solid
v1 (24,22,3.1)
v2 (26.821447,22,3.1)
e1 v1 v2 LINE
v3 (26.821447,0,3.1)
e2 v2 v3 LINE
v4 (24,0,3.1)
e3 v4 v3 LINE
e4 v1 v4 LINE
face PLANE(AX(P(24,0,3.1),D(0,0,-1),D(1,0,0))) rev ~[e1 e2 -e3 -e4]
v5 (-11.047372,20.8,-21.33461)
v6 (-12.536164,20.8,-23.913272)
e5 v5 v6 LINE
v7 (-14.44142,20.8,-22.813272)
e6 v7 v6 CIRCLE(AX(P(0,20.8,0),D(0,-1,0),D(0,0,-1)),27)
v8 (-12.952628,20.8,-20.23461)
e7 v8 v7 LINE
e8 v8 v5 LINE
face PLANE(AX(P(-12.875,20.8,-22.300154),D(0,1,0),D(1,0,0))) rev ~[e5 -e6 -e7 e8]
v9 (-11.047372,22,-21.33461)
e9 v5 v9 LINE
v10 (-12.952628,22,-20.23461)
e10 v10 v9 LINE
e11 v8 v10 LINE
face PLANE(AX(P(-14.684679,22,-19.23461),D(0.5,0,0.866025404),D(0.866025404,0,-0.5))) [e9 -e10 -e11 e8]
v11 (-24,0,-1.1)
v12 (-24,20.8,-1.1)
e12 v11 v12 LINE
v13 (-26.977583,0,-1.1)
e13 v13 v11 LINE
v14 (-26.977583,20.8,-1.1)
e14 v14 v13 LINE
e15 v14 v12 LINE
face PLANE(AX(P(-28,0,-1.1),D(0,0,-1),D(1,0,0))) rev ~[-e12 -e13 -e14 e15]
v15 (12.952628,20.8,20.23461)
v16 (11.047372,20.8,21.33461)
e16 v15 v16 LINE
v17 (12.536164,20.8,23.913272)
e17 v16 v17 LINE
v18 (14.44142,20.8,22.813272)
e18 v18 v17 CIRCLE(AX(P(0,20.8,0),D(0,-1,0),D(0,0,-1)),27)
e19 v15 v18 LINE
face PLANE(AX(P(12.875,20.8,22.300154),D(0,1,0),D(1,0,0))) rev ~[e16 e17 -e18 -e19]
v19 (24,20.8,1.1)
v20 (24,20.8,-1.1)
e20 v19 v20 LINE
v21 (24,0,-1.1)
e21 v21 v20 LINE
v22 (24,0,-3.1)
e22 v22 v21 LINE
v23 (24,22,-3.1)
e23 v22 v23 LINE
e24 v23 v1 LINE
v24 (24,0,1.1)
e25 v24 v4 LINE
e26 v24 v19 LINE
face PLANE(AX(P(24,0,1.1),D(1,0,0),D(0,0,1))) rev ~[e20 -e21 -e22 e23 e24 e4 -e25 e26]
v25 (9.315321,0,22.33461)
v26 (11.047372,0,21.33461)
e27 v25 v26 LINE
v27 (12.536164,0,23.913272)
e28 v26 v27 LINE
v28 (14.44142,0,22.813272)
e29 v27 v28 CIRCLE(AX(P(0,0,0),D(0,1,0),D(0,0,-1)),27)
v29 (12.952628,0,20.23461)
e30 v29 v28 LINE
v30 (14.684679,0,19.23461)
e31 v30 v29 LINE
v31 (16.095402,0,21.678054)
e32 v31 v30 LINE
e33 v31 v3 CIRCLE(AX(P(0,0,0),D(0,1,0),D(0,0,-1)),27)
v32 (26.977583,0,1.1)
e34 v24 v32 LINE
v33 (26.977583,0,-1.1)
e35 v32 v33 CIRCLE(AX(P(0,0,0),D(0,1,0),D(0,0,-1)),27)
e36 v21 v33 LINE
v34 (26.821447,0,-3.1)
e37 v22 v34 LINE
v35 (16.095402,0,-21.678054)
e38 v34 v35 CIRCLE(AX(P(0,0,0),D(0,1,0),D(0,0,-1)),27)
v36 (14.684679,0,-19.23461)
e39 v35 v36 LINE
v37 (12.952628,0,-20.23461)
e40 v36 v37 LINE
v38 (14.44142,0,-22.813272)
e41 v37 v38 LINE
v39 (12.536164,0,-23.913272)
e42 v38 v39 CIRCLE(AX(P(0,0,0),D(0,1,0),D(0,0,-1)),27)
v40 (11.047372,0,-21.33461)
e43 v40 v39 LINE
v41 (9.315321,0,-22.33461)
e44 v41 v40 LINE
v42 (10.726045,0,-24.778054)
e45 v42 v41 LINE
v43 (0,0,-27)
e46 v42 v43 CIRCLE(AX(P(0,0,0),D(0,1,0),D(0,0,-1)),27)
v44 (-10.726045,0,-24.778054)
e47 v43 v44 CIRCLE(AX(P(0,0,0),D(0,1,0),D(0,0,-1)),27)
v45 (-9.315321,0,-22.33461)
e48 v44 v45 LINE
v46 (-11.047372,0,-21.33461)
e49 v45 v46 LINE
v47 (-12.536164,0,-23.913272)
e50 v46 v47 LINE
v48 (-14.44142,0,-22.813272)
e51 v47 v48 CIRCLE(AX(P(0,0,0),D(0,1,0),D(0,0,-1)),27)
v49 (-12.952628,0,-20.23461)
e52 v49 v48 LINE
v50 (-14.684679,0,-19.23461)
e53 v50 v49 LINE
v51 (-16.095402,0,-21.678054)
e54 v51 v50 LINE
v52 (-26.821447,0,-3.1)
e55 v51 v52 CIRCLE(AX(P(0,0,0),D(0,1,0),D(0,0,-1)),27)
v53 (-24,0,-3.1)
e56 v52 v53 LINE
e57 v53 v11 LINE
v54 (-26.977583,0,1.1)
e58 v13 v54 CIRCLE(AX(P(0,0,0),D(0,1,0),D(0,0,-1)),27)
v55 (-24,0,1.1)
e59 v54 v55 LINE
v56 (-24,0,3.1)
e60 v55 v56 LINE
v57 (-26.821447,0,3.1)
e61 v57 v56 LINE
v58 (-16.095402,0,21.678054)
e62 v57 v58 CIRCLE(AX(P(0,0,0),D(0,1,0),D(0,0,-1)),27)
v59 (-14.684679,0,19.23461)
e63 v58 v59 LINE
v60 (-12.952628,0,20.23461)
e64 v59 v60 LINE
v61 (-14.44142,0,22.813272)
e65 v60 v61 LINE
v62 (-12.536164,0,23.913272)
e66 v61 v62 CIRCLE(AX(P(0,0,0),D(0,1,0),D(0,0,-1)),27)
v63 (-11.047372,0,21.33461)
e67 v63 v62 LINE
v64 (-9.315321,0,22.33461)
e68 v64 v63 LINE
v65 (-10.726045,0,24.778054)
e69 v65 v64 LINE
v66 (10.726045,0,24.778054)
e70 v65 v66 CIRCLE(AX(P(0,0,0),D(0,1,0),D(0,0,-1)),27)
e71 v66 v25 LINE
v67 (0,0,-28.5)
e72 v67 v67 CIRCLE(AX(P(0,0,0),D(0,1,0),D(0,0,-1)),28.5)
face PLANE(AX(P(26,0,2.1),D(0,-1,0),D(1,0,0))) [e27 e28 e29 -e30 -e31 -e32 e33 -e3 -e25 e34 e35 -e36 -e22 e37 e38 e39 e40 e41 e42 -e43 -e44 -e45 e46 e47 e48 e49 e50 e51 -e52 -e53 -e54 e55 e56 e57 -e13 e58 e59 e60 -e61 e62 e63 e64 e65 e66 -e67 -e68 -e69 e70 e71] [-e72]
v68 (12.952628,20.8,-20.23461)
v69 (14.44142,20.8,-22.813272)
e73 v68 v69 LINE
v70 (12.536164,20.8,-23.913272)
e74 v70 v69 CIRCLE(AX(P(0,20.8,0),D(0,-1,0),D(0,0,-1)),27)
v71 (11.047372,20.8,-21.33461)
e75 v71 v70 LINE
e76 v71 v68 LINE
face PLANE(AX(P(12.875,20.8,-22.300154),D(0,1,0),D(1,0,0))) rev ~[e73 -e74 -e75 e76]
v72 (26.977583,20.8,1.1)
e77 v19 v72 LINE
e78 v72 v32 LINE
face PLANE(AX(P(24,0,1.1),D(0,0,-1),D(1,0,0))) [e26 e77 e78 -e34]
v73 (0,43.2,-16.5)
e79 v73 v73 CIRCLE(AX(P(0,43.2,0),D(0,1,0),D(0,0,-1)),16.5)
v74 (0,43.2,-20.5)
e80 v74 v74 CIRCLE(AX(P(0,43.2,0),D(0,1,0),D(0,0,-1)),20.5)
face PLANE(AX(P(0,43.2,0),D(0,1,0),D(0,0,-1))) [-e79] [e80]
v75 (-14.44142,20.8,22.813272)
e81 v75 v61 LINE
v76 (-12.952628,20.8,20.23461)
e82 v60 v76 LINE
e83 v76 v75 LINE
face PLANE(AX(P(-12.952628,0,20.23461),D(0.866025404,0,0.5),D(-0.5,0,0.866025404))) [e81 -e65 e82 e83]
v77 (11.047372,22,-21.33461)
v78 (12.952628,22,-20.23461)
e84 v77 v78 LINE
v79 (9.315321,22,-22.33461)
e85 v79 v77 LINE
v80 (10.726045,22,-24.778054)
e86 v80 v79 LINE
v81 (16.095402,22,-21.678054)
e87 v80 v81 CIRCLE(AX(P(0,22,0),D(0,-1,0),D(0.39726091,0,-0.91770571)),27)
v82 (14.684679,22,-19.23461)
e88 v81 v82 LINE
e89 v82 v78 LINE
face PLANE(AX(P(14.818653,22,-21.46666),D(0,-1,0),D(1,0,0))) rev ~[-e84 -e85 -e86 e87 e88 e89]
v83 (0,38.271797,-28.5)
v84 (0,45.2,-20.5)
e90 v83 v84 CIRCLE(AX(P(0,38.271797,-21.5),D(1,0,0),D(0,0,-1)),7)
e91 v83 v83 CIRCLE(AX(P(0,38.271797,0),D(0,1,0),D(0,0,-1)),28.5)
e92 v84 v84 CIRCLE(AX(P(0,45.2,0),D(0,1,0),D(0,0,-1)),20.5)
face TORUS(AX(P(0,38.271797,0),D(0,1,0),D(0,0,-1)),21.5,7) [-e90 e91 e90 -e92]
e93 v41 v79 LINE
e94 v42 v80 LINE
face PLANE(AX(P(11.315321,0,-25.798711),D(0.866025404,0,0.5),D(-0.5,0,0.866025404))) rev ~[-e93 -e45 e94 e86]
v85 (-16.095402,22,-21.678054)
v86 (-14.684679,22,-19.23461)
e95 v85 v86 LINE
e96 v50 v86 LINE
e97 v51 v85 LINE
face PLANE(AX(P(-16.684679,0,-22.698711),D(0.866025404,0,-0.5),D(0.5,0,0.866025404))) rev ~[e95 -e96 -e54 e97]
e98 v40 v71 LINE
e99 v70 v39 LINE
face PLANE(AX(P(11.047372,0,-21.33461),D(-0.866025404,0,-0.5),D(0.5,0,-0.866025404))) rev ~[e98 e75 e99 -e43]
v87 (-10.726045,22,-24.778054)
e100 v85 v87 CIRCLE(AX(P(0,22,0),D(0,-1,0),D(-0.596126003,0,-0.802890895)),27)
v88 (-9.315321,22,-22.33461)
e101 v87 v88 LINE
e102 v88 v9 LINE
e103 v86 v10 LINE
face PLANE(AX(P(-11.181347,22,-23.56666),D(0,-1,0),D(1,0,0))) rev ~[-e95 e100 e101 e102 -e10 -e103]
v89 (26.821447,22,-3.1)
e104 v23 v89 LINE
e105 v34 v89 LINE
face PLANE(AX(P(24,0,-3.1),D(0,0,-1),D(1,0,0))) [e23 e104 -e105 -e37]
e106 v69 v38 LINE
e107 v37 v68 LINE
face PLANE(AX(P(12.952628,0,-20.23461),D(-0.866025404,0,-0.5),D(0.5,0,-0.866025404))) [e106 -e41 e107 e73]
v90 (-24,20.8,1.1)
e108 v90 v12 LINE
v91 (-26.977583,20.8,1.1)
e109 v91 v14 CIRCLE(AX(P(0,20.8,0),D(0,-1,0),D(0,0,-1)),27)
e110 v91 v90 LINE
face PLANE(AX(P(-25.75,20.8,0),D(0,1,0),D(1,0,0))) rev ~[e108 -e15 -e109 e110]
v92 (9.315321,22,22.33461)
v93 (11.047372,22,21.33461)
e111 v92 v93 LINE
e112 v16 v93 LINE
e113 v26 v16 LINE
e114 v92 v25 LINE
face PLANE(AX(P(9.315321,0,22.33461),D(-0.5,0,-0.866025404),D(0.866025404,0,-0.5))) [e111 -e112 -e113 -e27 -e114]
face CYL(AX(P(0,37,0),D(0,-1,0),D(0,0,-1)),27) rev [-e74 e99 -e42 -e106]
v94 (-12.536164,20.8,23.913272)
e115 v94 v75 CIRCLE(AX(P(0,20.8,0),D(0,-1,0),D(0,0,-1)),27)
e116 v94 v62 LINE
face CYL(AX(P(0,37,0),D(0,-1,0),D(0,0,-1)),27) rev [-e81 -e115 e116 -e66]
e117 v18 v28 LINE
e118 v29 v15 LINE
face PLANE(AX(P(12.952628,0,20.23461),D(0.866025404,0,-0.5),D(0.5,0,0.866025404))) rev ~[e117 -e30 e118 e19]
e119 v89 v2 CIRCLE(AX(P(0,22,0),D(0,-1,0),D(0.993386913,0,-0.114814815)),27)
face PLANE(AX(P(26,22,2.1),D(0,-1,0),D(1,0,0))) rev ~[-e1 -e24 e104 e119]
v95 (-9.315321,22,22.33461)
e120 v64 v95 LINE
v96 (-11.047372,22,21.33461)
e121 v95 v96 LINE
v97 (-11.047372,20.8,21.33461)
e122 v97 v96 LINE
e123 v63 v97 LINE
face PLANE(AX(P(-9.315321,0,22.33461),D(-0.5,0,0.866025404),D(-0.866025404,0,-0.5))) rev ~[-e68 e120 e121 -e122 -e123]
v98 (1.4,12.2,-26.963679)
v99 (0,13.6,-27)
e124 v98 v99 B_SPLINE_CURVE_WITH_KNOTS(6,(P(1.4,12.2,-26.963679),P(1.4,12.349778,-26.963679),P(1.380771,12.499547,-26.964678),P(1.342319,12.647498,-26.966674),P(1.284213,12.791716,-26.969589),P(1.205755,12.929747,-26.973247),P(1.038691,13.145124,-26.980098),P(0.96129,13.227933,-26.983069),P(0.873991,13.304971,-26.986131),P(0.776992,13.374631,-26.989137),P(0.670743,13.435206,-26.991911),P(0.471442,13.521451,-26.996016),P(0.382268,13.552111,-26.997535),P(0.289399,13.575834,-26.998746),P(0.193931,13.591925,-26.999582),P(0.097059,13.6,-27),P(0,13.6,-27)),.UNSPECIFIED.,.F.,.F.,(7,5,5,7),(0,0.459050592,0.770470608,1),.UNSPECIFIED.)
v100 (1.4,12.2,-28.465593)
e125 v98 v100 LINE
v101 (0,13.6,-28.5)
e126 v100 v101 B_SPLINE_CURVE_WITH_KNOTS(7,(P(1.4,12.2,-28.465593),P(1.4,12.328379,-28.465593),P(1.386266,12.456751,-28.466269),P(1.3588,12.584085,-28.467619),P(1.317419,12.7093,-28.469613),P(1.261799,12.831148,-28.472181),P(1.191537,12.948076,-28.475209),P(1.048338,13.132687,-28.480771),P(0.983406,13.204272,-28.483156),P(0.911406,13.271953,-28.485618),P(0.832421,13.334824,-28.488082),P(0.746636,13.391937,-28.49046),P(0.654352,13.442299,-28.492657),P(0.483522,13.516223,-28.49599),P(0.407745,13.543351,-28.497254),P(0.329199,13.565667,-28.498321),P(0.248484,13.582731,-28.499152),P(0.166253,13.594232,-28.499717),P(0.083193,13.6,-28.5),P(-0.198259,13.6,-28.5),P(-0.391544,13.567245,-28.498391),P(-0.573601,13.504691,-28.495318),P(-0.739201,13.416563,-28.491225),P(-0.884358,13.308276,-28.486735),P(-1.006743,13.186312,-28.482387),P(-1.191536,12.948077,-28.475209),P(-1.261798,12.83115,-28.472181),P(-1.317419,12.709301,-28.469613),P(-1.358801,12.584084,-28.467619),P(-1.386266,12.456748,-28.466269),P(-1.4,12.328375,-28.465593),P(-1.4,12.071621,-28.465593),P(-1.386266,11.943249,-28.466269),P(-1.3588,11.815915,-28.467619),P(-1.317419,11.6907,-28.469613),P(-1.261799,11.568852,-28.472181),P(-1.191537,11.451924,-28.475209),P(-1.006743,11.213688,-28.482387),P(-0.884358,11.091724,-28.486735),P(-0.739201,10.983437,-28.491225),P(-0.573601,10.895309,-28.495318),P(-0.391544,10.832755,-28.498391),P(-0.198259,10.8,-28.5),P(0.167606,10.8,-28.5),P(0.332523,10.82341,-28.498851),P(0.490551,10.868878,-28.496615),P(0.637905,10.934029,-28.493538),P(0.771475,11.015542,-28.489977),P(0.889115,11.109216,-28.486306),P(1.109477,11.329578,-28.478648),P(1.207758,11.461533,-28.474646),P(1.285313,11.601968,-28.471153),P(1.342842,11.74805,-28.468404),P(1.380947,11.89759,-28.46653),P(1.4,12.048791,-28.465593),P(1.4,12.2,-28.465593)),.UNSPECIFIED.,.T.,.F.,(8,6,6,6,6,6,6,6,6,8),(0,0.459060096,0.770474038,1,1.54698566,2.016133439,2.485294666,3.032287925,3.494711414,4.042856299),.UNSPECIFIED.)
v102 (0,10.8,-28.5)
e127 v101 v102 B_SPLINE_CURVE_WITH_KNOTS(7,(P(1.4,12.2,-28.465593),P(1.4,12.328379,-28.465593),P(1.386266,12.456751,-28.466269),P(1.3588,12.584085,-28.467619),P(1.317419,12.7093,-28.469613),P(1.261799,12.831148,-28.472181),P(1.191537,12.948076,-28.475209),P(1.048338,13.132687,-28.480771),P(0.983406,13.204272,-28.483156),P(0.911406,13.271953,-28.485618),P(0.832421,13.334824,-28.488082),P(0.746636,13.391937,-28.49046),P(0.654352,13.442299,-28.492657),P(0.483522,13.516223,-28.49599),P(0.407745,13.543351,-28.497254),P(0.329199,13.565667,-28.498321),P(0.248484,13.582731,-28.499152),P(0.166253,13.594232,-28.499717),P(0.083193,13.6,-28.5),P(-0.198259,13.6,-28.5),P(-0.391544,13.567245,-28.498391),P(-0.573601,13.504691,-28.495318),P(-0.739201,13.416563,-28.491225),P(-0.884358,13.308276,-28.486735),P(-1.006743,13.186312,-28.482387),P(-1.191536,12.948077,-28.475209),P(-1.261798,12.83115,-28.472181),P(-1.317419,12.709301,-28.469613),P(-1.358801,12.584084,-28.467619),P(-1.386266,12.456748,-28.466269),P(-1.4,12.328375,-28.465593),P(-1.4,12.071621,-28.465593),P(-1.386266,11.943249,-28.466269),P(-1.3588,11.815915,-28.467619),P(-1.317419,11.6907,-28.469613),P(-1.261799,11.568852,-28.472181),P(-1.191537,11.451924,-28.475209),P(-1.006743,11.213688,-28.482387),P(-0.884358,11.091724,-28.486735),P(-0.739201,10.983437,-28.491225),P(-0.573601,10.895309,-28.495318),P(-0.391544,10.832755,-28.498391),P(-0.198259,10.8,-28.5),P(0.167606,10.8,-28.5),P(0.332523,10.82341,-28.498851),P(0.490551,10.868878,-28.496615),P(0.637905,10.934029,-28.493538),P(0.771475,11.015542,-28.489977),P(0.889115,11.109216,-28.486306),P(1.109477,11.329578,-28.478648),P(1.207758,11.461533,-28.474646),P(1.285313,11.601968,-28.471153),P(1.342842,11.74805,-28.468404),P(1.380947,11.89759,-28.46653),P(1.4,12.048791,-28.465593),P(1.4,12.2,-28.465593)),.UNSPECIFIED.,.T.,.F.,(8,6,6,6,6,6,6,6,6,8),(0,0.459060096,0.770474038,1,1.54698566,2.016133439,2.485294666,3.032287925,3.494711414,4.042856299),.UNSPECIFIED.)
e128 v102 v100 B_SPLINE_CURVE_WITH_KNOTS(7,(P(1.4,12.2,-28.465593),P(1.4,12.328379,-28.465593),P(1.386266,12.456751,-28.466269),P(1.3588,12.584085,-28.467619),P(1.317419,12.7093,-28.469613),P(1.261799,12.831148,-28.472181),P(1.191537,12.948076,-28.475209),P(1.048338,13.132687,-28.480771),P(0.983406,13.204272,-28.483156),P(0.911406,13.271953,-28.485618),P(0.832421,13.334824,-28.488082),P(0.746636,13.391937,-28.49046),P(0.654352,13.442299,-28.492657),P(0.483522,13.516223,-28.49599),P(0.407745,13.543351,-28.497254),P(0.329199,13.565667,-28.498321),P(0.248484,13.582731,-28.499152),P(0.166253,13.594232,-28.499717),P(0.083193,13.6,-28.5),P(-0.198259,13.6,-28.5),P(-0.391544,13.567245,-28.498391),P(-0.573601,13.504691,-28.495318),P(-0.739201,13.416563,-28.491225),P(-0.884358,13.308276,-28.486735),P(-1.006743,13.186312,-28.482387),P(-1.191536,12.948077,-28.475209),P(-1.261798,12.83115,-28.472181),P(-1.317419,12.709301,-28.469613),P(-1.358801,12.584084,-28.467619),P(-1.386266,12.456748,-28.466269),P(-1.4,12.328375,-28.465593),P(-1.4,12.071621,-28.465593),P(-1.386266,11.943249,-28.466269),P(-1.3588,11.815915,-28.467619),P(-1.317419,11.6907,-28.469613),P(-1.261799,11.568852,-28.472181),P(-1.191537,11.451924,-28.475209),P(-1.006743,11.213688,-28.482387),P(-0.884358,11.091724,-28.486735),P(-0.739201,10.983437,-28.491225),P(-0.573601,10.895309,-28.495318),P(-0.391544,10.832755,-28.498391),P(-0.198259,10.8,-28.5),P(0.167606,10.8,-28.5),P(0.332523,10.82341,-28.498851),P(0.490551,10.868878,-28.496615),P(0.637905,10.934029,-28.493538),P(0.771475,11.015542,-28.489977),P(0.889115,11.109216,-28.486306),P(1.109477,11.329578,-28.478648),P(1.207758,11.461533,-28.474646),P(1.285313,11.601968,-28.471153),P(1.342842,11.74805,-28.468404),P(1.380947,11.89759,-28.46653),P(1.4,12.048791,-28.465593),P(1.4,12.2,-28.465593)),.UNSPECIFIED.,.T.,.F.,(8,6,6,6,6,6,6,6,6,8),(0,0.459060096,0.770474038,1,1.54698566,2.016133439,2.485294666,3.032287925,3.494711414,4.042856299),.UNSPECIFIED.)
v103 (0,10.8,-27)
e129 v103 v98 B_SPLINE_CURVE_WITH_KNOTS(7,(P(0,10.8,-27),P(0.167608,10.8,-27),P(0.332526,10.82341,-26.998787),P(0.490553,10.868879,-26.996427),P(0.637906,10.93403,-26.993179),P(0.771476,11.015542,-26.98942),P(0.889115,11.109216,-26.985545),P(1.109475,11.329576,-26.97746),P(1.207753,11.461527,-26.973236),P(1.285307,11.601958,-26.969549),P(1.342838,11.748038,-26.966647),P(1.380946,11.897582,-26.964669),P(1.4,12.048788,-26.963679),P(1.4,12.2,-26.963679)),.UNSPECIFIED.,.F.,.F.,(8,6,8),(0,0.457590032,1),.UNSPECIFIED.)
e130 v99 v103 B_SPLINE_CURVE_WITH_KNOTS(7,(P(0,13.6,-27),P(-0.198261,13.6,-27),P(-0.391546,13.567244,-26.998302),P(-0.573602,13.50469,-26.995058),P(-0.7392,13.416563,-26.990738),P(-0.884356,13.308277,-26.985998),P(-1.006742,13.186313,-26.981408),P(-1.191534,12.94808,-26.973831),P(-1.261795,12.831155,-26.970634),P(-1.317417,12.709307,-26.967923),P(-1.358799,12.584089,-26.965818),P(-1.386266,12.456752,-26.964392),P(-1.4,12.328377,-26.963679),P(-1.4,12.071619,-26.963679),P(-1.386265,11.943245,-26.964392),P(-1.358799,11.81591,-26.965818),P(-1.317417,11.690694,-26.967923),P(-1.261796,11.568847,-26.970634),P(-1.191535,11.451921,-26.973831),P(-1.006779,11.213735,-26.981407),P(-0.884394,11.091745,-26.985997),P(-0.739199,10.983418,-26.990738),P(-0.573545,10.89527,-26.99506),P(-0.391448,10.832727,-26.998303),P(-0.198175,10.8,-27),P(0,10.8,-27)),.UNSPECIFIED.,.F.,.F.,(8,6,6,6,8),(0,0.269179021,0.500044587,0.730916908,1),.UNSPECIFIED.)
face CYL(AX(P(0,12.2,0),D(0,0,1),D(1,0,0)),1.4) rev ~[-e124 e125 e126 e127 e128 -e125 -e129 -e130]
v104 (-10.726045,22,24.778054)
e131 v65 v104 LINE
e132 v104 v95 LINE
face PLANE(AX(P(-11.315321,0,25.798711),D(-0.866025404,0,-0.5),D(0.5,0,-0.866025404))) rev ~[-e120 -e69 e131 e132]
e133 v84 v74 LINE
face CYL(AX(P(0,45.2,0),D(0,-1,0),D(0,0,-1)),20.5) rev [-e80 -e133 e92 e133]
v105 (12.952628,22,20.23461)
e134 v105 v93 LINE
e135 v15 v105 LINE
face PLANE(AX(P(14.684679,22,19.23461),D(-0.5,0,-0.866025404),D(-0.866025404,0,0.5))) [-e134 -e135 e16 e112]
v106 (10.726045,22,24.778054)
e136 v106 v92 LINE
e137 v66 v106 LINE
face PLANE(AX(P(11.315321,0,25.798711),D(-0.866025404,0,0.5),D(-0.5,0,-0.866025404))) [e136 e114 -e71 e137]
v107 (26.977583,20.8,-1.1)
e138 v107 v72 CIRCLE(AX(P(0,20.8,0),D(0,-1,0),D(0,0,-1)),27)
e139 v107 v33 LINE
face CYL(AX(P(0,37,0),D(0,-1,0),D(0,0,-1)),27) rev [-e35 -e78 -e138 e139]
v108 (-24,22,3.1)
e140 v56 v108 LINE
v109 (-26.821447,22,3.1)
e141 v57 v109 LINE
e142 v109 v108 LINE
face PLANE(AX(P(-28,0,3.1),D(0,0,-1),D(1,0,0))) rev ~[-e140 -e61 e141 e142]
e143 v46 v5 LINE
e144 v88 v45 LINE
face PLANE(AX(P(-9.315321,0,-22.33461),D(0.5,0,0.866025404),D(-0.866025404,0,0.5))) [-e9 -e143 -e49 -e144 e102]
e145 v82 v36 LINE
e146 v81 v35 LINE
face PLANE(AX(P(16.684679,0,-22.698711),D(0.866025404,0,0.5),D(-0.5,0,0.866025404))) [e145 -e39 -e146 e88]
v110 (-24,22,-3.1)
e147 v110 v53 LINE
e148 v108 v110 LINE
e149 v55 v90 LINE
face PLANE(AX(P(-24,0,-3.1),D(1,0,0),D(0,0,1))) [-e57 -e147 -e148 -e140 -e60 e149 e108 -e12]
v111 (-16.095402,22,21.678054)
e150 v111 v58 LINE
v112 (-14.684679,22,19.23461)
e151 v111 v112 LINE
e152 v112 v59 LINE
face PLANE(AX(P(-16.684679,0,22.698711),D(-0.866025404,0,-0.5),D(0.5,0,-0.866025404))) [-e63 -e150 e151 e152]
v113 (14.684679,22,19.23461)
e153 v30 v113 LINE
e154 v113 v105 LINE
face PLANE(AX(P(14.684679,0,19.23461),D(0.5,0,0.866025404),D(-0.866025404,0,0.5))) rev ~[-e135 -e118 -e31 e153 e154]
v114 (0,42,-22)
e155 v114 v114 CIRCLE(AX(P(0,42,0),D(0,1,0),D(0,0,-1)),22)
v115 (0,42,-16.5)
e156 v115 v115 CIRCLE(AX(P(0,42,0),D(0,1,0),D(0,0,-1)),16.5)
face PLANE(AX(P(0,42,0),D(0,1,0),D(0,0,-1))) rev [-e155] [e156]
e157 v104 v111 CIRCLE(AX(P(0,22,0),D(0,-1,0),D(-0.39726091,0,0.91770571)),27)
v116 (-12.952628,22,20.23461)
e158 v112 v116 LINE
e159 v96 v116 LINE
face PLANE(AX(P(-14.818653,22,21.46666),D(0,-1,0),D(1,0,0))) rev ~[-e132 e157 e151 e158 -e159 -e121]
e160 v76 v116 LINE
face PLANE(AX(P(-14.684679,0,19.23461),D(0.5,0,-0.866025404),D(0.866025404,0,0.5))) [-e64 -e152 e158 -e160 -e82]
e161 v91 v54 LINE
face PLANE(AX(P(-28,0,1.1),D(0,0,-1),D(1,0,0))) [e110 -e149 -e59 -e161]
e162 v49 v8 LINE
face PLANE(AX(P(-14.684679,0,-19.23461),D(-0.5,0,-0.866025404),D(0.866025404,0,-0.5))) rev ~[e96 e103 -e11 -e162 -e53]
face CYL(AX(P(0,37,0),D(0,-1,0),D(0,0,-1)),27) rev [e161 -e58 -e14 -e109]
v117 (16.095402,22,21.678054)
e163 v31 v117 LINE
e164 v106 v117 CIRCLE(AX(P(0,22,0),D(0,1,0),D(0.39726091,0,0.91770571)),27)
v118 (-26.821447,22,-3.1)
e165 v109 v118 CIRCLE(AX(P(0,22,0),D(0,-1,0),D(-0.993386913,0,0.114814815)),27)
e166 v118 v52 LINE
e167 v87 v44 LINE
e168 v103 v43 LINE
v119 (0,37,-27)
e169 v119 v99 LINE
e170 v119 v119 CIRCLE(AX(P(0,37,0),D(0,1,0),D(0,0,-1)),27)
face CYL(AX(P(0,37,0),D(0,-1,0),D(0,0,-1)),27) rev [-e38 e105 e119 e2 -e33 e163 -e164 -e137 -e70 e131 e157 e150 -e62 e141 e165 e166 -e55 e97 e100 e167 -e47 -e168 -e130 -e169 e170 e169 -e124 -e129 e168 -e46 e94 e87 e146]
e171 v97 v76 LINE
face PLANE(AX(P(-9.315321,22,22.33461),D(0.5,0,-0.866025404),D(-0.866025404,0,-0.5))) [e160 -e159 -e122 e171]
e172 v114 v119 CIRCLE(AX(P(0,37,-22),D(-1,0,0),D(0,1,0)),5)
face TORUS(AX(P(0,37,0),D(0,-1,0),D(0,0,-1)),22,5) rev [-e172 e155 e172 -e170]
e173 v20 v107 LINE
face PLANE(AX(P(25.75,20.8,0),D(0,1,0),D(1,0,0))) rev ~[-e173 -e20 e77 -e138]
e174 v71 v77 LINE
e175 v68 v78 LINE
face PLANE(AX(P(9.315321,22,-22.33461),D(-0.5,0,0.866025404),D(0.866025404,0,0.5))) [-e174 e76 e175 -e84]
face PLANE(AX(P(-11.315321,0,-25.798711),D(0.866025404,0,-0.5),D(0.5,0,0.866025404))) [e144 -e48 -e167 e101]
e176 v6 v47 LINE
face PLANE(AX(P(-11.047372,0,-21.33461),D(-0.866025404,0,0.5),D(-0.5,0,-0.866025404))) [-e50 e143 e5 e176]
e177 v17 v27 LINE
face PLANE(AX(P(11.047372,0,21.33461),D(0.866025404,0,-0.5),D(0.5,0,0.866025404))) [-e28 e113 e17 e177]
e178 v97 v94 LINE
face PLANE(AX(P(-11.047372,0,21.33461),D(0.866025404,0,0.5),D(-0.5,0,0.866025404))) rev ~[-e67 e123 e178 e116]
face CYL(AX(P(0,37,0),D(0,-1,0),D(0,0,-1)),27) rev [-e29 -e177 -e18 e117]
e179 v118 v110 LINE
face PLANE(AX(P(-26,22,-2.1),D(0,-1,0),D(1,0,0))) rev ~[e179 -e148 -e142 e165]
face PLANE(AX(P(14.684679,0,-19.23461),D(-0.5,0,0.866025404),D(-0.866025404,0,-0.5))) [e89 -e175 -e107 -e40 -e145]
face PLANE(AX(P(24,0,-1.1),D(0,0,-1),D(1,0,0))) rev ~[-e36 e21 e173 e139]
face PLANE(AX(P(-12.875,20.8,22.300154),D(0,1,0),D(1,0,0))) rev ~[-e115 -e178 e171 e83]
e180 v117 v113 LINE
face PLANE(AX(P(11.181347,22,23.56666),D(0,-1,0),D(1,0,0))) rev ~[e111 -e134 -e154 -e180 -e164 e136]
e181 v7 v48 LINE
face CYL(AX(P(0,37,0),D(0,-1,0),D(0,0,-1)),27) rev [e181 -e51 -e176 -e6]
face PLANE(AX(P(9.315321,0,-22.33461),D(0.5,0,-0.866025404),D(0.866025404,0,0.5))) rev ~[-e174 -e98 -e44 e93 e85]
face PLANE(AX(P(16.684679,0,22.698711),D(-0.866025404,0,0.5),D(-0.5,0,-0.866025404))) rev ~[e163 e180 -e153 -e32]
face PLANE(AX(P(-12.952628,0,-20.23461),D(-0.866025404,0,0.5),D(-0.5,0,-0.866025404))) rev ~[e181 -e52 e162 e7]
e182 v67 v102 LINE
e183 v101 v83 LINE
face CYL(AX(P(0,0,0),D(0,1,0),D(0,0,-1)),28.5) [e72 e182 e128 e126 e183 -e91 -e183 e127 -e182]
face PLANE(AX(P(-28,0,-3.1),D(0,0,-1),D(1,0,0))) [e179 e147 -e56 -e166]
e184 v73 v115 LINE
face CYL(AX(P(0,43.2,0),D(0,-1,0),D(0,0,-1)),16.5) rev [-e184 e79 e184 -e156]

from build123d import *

# Parameters (mm, degrees)
SKETCH_5_W               = 4
SKETCH_5_H               = 2
EXTRUDE_1_DEPTH          = 22
SKETCH_6_W               = 3.5
SKETCH_6_H               = 6.2
EXTRUDE_2_DEPTH          = 1.2
CUT_EXTRUDE_1_REACH      = 62.614
CUT_EXTRUDE_1_END_RADIUS = 28.5
SKETCH_7_R               = 1.4


with BuildPart() as part:
    # 草图4 → 旋转1 (revolve)
    with BuildSketch(Plane(origin=(0, 0, 0), x_dir=(0, 0, -1), z_dir=(1, 0, 0))):
        with BuildLine():
            Line((16.5, 43.2), (16.5, 42))
            Line((16.5, 42), (22, 42))
            ThreePointArc((22, 42), (25.535533906, 40.535533906), (27, 37))
            Line((27, 37), (27, 0))
            Line((27, 0), (28.5, 0))
            Line((28.5, 0), (28.5, 38.27179677))
            ThreePointArc((28.5, 38.27179677), (26.082575695, 43.563299392), (20.5, 45.2))
            Line((20.5, 45.2), (20.5, 43.2))
            Line((20.5, 43.2), (16.5, 43.2))
        make_face()
    revolve(axis=Axis((0, 0, 0), (0, 1, 0)))

    # 草图5 → 凸台-拉伸1 (add)
    with BuildSketch(Plane.XZ):
        with Locations((26, 2.1)):
            Rectangle(SKETCH_5_W, SKETCH_5_H)
        with Locations((26, -2.1)):
            Rectangle(SKETCH_5_W, SKETCH_5_H)
        Polygon((16.684678752, -22.698711306), (14.684678752, -19.234609691), (12.952627944, -20.234609691), (14.952627944, -23.698711306), align=None)
        Polygon((13.047372056, -24.798711306), (11.315321248, -25.798711306), (9.315321248, -22.334609691), (11.047372056, -21.334609691), align=None)
        Polygon((-11.315321248, -25.798711306), (-9.315321248, -22.334609691), (-11.047372056, -21.334609691), (-13.047372056, -24.798711306), align=None)
        Polygon((-14.952627944, -23.698711306), (-16.684678752, -22.698711306), (-14.684678752, -19.234609691), (-12.952627944, -20.234609691), align=None)
        with Locations((-26, -2.1)):
            Rectangle(SKETCH_5_W, SKETCH_5_H)
        with Locations((-26, 2.1)):
            Rectangle(SKETCH_5_W, SKETCH_5_H)
        Polygon((-16.684678752, 22.698711306), (-14.684678752, 19.234609691), (-12.952627944, 20.234609691), (-14.952627944, 23.698711306), align=None)
        Polygon((-13.047372056, 24.798711306), (-11.315321248, 25.798711306), (-9.315321248, 22.334609691), (-11.047372056, 21.334609691), align=None)
        Polygon((11.315321248, 25.798711306), (9.315321248, 22.334609691), (11.047372056, 21.334609691), (13.047372056, 24.798711306), align=None)
        Polygon((14.952627944, 23.698711306), (16.684678752, 22.698711306), (14.684678752, 19.234609691), (12.952627944, 20.234609691), align=None)
    extrude(amount=-EXTRUDE_1_DEPTH)

    # 草图6 → 凸台-拉伸2 (add)
    with BuildSketch(Plane(origin=(0, 22, 0), x_dir=(1, 0, 0), z_dir=(0, 1, 0))):
        Polygon((9.315321248, -22.334609691), (11.065321248, -25.365698604), (16.434678752, -22.265698604), (14.684678752, -19.234609691), align=None)
        with Locations((25.75, 0)):
            Rectangle(SKETCH_6_W, SKETCH_6_H)
        Polygon((-14.684678752, -19.234609691), (-16.434678752, -22.265698604), (-11.065321248, -25.365698604), (-9.315321248, -22.334609691), align=None)
        with Locations((-25.75, 0)):
            Rectangle(SKETCH_6_W, SKETCH_6_H)
        Polygon((-9.315321248, 22.334609691), (-11.065321248, 25.365698604), (-16.434678752, 22.265698604), (-14.684678752, 19.234609691), align=None)
        Polygon((14.684678752, 19.234609691), (16.434678752, 22.265698604), (11.065321248, 25.365698604), (9.315321248, 22.334609691), align=None)
    extrude(amount=-EXTRUDE_2_DEPTH)

    # 切除-拉伸1: up to this cylinder (the profile starts inside it)
    cut_extrude_1_end = Plane(origin=(0, 12.2, 0), z_dir=(0, -1, 0)) * Cylinder(CUT_EXTRUDE_1_END_RADIUS, 183.228, mode=Mode.PRIVATE)
    # 草图7 → 切除-拉伸1 (cut, up to the surface)
    with BuildSketch(Plane.XY, mode=Mode.PRIVATE) as cut_extrude_1_sk1:
        with Locations((0, 12.2)):
            Circle(SKETCH_7_R)
    cut_extrude_1_tool1 = extrude(cut_extrude_1_sk1.sketch, amount=-CUT_EXTRUDE_1_REACH, mode=Mode.PRIVATE) & cut_extrude_1_end
    add(cut_extrude_1_tool1.solids().sort_by_distance((0, 12.2, 0))[0], mode=Mode.SUBTRACT)


solid = part.part
